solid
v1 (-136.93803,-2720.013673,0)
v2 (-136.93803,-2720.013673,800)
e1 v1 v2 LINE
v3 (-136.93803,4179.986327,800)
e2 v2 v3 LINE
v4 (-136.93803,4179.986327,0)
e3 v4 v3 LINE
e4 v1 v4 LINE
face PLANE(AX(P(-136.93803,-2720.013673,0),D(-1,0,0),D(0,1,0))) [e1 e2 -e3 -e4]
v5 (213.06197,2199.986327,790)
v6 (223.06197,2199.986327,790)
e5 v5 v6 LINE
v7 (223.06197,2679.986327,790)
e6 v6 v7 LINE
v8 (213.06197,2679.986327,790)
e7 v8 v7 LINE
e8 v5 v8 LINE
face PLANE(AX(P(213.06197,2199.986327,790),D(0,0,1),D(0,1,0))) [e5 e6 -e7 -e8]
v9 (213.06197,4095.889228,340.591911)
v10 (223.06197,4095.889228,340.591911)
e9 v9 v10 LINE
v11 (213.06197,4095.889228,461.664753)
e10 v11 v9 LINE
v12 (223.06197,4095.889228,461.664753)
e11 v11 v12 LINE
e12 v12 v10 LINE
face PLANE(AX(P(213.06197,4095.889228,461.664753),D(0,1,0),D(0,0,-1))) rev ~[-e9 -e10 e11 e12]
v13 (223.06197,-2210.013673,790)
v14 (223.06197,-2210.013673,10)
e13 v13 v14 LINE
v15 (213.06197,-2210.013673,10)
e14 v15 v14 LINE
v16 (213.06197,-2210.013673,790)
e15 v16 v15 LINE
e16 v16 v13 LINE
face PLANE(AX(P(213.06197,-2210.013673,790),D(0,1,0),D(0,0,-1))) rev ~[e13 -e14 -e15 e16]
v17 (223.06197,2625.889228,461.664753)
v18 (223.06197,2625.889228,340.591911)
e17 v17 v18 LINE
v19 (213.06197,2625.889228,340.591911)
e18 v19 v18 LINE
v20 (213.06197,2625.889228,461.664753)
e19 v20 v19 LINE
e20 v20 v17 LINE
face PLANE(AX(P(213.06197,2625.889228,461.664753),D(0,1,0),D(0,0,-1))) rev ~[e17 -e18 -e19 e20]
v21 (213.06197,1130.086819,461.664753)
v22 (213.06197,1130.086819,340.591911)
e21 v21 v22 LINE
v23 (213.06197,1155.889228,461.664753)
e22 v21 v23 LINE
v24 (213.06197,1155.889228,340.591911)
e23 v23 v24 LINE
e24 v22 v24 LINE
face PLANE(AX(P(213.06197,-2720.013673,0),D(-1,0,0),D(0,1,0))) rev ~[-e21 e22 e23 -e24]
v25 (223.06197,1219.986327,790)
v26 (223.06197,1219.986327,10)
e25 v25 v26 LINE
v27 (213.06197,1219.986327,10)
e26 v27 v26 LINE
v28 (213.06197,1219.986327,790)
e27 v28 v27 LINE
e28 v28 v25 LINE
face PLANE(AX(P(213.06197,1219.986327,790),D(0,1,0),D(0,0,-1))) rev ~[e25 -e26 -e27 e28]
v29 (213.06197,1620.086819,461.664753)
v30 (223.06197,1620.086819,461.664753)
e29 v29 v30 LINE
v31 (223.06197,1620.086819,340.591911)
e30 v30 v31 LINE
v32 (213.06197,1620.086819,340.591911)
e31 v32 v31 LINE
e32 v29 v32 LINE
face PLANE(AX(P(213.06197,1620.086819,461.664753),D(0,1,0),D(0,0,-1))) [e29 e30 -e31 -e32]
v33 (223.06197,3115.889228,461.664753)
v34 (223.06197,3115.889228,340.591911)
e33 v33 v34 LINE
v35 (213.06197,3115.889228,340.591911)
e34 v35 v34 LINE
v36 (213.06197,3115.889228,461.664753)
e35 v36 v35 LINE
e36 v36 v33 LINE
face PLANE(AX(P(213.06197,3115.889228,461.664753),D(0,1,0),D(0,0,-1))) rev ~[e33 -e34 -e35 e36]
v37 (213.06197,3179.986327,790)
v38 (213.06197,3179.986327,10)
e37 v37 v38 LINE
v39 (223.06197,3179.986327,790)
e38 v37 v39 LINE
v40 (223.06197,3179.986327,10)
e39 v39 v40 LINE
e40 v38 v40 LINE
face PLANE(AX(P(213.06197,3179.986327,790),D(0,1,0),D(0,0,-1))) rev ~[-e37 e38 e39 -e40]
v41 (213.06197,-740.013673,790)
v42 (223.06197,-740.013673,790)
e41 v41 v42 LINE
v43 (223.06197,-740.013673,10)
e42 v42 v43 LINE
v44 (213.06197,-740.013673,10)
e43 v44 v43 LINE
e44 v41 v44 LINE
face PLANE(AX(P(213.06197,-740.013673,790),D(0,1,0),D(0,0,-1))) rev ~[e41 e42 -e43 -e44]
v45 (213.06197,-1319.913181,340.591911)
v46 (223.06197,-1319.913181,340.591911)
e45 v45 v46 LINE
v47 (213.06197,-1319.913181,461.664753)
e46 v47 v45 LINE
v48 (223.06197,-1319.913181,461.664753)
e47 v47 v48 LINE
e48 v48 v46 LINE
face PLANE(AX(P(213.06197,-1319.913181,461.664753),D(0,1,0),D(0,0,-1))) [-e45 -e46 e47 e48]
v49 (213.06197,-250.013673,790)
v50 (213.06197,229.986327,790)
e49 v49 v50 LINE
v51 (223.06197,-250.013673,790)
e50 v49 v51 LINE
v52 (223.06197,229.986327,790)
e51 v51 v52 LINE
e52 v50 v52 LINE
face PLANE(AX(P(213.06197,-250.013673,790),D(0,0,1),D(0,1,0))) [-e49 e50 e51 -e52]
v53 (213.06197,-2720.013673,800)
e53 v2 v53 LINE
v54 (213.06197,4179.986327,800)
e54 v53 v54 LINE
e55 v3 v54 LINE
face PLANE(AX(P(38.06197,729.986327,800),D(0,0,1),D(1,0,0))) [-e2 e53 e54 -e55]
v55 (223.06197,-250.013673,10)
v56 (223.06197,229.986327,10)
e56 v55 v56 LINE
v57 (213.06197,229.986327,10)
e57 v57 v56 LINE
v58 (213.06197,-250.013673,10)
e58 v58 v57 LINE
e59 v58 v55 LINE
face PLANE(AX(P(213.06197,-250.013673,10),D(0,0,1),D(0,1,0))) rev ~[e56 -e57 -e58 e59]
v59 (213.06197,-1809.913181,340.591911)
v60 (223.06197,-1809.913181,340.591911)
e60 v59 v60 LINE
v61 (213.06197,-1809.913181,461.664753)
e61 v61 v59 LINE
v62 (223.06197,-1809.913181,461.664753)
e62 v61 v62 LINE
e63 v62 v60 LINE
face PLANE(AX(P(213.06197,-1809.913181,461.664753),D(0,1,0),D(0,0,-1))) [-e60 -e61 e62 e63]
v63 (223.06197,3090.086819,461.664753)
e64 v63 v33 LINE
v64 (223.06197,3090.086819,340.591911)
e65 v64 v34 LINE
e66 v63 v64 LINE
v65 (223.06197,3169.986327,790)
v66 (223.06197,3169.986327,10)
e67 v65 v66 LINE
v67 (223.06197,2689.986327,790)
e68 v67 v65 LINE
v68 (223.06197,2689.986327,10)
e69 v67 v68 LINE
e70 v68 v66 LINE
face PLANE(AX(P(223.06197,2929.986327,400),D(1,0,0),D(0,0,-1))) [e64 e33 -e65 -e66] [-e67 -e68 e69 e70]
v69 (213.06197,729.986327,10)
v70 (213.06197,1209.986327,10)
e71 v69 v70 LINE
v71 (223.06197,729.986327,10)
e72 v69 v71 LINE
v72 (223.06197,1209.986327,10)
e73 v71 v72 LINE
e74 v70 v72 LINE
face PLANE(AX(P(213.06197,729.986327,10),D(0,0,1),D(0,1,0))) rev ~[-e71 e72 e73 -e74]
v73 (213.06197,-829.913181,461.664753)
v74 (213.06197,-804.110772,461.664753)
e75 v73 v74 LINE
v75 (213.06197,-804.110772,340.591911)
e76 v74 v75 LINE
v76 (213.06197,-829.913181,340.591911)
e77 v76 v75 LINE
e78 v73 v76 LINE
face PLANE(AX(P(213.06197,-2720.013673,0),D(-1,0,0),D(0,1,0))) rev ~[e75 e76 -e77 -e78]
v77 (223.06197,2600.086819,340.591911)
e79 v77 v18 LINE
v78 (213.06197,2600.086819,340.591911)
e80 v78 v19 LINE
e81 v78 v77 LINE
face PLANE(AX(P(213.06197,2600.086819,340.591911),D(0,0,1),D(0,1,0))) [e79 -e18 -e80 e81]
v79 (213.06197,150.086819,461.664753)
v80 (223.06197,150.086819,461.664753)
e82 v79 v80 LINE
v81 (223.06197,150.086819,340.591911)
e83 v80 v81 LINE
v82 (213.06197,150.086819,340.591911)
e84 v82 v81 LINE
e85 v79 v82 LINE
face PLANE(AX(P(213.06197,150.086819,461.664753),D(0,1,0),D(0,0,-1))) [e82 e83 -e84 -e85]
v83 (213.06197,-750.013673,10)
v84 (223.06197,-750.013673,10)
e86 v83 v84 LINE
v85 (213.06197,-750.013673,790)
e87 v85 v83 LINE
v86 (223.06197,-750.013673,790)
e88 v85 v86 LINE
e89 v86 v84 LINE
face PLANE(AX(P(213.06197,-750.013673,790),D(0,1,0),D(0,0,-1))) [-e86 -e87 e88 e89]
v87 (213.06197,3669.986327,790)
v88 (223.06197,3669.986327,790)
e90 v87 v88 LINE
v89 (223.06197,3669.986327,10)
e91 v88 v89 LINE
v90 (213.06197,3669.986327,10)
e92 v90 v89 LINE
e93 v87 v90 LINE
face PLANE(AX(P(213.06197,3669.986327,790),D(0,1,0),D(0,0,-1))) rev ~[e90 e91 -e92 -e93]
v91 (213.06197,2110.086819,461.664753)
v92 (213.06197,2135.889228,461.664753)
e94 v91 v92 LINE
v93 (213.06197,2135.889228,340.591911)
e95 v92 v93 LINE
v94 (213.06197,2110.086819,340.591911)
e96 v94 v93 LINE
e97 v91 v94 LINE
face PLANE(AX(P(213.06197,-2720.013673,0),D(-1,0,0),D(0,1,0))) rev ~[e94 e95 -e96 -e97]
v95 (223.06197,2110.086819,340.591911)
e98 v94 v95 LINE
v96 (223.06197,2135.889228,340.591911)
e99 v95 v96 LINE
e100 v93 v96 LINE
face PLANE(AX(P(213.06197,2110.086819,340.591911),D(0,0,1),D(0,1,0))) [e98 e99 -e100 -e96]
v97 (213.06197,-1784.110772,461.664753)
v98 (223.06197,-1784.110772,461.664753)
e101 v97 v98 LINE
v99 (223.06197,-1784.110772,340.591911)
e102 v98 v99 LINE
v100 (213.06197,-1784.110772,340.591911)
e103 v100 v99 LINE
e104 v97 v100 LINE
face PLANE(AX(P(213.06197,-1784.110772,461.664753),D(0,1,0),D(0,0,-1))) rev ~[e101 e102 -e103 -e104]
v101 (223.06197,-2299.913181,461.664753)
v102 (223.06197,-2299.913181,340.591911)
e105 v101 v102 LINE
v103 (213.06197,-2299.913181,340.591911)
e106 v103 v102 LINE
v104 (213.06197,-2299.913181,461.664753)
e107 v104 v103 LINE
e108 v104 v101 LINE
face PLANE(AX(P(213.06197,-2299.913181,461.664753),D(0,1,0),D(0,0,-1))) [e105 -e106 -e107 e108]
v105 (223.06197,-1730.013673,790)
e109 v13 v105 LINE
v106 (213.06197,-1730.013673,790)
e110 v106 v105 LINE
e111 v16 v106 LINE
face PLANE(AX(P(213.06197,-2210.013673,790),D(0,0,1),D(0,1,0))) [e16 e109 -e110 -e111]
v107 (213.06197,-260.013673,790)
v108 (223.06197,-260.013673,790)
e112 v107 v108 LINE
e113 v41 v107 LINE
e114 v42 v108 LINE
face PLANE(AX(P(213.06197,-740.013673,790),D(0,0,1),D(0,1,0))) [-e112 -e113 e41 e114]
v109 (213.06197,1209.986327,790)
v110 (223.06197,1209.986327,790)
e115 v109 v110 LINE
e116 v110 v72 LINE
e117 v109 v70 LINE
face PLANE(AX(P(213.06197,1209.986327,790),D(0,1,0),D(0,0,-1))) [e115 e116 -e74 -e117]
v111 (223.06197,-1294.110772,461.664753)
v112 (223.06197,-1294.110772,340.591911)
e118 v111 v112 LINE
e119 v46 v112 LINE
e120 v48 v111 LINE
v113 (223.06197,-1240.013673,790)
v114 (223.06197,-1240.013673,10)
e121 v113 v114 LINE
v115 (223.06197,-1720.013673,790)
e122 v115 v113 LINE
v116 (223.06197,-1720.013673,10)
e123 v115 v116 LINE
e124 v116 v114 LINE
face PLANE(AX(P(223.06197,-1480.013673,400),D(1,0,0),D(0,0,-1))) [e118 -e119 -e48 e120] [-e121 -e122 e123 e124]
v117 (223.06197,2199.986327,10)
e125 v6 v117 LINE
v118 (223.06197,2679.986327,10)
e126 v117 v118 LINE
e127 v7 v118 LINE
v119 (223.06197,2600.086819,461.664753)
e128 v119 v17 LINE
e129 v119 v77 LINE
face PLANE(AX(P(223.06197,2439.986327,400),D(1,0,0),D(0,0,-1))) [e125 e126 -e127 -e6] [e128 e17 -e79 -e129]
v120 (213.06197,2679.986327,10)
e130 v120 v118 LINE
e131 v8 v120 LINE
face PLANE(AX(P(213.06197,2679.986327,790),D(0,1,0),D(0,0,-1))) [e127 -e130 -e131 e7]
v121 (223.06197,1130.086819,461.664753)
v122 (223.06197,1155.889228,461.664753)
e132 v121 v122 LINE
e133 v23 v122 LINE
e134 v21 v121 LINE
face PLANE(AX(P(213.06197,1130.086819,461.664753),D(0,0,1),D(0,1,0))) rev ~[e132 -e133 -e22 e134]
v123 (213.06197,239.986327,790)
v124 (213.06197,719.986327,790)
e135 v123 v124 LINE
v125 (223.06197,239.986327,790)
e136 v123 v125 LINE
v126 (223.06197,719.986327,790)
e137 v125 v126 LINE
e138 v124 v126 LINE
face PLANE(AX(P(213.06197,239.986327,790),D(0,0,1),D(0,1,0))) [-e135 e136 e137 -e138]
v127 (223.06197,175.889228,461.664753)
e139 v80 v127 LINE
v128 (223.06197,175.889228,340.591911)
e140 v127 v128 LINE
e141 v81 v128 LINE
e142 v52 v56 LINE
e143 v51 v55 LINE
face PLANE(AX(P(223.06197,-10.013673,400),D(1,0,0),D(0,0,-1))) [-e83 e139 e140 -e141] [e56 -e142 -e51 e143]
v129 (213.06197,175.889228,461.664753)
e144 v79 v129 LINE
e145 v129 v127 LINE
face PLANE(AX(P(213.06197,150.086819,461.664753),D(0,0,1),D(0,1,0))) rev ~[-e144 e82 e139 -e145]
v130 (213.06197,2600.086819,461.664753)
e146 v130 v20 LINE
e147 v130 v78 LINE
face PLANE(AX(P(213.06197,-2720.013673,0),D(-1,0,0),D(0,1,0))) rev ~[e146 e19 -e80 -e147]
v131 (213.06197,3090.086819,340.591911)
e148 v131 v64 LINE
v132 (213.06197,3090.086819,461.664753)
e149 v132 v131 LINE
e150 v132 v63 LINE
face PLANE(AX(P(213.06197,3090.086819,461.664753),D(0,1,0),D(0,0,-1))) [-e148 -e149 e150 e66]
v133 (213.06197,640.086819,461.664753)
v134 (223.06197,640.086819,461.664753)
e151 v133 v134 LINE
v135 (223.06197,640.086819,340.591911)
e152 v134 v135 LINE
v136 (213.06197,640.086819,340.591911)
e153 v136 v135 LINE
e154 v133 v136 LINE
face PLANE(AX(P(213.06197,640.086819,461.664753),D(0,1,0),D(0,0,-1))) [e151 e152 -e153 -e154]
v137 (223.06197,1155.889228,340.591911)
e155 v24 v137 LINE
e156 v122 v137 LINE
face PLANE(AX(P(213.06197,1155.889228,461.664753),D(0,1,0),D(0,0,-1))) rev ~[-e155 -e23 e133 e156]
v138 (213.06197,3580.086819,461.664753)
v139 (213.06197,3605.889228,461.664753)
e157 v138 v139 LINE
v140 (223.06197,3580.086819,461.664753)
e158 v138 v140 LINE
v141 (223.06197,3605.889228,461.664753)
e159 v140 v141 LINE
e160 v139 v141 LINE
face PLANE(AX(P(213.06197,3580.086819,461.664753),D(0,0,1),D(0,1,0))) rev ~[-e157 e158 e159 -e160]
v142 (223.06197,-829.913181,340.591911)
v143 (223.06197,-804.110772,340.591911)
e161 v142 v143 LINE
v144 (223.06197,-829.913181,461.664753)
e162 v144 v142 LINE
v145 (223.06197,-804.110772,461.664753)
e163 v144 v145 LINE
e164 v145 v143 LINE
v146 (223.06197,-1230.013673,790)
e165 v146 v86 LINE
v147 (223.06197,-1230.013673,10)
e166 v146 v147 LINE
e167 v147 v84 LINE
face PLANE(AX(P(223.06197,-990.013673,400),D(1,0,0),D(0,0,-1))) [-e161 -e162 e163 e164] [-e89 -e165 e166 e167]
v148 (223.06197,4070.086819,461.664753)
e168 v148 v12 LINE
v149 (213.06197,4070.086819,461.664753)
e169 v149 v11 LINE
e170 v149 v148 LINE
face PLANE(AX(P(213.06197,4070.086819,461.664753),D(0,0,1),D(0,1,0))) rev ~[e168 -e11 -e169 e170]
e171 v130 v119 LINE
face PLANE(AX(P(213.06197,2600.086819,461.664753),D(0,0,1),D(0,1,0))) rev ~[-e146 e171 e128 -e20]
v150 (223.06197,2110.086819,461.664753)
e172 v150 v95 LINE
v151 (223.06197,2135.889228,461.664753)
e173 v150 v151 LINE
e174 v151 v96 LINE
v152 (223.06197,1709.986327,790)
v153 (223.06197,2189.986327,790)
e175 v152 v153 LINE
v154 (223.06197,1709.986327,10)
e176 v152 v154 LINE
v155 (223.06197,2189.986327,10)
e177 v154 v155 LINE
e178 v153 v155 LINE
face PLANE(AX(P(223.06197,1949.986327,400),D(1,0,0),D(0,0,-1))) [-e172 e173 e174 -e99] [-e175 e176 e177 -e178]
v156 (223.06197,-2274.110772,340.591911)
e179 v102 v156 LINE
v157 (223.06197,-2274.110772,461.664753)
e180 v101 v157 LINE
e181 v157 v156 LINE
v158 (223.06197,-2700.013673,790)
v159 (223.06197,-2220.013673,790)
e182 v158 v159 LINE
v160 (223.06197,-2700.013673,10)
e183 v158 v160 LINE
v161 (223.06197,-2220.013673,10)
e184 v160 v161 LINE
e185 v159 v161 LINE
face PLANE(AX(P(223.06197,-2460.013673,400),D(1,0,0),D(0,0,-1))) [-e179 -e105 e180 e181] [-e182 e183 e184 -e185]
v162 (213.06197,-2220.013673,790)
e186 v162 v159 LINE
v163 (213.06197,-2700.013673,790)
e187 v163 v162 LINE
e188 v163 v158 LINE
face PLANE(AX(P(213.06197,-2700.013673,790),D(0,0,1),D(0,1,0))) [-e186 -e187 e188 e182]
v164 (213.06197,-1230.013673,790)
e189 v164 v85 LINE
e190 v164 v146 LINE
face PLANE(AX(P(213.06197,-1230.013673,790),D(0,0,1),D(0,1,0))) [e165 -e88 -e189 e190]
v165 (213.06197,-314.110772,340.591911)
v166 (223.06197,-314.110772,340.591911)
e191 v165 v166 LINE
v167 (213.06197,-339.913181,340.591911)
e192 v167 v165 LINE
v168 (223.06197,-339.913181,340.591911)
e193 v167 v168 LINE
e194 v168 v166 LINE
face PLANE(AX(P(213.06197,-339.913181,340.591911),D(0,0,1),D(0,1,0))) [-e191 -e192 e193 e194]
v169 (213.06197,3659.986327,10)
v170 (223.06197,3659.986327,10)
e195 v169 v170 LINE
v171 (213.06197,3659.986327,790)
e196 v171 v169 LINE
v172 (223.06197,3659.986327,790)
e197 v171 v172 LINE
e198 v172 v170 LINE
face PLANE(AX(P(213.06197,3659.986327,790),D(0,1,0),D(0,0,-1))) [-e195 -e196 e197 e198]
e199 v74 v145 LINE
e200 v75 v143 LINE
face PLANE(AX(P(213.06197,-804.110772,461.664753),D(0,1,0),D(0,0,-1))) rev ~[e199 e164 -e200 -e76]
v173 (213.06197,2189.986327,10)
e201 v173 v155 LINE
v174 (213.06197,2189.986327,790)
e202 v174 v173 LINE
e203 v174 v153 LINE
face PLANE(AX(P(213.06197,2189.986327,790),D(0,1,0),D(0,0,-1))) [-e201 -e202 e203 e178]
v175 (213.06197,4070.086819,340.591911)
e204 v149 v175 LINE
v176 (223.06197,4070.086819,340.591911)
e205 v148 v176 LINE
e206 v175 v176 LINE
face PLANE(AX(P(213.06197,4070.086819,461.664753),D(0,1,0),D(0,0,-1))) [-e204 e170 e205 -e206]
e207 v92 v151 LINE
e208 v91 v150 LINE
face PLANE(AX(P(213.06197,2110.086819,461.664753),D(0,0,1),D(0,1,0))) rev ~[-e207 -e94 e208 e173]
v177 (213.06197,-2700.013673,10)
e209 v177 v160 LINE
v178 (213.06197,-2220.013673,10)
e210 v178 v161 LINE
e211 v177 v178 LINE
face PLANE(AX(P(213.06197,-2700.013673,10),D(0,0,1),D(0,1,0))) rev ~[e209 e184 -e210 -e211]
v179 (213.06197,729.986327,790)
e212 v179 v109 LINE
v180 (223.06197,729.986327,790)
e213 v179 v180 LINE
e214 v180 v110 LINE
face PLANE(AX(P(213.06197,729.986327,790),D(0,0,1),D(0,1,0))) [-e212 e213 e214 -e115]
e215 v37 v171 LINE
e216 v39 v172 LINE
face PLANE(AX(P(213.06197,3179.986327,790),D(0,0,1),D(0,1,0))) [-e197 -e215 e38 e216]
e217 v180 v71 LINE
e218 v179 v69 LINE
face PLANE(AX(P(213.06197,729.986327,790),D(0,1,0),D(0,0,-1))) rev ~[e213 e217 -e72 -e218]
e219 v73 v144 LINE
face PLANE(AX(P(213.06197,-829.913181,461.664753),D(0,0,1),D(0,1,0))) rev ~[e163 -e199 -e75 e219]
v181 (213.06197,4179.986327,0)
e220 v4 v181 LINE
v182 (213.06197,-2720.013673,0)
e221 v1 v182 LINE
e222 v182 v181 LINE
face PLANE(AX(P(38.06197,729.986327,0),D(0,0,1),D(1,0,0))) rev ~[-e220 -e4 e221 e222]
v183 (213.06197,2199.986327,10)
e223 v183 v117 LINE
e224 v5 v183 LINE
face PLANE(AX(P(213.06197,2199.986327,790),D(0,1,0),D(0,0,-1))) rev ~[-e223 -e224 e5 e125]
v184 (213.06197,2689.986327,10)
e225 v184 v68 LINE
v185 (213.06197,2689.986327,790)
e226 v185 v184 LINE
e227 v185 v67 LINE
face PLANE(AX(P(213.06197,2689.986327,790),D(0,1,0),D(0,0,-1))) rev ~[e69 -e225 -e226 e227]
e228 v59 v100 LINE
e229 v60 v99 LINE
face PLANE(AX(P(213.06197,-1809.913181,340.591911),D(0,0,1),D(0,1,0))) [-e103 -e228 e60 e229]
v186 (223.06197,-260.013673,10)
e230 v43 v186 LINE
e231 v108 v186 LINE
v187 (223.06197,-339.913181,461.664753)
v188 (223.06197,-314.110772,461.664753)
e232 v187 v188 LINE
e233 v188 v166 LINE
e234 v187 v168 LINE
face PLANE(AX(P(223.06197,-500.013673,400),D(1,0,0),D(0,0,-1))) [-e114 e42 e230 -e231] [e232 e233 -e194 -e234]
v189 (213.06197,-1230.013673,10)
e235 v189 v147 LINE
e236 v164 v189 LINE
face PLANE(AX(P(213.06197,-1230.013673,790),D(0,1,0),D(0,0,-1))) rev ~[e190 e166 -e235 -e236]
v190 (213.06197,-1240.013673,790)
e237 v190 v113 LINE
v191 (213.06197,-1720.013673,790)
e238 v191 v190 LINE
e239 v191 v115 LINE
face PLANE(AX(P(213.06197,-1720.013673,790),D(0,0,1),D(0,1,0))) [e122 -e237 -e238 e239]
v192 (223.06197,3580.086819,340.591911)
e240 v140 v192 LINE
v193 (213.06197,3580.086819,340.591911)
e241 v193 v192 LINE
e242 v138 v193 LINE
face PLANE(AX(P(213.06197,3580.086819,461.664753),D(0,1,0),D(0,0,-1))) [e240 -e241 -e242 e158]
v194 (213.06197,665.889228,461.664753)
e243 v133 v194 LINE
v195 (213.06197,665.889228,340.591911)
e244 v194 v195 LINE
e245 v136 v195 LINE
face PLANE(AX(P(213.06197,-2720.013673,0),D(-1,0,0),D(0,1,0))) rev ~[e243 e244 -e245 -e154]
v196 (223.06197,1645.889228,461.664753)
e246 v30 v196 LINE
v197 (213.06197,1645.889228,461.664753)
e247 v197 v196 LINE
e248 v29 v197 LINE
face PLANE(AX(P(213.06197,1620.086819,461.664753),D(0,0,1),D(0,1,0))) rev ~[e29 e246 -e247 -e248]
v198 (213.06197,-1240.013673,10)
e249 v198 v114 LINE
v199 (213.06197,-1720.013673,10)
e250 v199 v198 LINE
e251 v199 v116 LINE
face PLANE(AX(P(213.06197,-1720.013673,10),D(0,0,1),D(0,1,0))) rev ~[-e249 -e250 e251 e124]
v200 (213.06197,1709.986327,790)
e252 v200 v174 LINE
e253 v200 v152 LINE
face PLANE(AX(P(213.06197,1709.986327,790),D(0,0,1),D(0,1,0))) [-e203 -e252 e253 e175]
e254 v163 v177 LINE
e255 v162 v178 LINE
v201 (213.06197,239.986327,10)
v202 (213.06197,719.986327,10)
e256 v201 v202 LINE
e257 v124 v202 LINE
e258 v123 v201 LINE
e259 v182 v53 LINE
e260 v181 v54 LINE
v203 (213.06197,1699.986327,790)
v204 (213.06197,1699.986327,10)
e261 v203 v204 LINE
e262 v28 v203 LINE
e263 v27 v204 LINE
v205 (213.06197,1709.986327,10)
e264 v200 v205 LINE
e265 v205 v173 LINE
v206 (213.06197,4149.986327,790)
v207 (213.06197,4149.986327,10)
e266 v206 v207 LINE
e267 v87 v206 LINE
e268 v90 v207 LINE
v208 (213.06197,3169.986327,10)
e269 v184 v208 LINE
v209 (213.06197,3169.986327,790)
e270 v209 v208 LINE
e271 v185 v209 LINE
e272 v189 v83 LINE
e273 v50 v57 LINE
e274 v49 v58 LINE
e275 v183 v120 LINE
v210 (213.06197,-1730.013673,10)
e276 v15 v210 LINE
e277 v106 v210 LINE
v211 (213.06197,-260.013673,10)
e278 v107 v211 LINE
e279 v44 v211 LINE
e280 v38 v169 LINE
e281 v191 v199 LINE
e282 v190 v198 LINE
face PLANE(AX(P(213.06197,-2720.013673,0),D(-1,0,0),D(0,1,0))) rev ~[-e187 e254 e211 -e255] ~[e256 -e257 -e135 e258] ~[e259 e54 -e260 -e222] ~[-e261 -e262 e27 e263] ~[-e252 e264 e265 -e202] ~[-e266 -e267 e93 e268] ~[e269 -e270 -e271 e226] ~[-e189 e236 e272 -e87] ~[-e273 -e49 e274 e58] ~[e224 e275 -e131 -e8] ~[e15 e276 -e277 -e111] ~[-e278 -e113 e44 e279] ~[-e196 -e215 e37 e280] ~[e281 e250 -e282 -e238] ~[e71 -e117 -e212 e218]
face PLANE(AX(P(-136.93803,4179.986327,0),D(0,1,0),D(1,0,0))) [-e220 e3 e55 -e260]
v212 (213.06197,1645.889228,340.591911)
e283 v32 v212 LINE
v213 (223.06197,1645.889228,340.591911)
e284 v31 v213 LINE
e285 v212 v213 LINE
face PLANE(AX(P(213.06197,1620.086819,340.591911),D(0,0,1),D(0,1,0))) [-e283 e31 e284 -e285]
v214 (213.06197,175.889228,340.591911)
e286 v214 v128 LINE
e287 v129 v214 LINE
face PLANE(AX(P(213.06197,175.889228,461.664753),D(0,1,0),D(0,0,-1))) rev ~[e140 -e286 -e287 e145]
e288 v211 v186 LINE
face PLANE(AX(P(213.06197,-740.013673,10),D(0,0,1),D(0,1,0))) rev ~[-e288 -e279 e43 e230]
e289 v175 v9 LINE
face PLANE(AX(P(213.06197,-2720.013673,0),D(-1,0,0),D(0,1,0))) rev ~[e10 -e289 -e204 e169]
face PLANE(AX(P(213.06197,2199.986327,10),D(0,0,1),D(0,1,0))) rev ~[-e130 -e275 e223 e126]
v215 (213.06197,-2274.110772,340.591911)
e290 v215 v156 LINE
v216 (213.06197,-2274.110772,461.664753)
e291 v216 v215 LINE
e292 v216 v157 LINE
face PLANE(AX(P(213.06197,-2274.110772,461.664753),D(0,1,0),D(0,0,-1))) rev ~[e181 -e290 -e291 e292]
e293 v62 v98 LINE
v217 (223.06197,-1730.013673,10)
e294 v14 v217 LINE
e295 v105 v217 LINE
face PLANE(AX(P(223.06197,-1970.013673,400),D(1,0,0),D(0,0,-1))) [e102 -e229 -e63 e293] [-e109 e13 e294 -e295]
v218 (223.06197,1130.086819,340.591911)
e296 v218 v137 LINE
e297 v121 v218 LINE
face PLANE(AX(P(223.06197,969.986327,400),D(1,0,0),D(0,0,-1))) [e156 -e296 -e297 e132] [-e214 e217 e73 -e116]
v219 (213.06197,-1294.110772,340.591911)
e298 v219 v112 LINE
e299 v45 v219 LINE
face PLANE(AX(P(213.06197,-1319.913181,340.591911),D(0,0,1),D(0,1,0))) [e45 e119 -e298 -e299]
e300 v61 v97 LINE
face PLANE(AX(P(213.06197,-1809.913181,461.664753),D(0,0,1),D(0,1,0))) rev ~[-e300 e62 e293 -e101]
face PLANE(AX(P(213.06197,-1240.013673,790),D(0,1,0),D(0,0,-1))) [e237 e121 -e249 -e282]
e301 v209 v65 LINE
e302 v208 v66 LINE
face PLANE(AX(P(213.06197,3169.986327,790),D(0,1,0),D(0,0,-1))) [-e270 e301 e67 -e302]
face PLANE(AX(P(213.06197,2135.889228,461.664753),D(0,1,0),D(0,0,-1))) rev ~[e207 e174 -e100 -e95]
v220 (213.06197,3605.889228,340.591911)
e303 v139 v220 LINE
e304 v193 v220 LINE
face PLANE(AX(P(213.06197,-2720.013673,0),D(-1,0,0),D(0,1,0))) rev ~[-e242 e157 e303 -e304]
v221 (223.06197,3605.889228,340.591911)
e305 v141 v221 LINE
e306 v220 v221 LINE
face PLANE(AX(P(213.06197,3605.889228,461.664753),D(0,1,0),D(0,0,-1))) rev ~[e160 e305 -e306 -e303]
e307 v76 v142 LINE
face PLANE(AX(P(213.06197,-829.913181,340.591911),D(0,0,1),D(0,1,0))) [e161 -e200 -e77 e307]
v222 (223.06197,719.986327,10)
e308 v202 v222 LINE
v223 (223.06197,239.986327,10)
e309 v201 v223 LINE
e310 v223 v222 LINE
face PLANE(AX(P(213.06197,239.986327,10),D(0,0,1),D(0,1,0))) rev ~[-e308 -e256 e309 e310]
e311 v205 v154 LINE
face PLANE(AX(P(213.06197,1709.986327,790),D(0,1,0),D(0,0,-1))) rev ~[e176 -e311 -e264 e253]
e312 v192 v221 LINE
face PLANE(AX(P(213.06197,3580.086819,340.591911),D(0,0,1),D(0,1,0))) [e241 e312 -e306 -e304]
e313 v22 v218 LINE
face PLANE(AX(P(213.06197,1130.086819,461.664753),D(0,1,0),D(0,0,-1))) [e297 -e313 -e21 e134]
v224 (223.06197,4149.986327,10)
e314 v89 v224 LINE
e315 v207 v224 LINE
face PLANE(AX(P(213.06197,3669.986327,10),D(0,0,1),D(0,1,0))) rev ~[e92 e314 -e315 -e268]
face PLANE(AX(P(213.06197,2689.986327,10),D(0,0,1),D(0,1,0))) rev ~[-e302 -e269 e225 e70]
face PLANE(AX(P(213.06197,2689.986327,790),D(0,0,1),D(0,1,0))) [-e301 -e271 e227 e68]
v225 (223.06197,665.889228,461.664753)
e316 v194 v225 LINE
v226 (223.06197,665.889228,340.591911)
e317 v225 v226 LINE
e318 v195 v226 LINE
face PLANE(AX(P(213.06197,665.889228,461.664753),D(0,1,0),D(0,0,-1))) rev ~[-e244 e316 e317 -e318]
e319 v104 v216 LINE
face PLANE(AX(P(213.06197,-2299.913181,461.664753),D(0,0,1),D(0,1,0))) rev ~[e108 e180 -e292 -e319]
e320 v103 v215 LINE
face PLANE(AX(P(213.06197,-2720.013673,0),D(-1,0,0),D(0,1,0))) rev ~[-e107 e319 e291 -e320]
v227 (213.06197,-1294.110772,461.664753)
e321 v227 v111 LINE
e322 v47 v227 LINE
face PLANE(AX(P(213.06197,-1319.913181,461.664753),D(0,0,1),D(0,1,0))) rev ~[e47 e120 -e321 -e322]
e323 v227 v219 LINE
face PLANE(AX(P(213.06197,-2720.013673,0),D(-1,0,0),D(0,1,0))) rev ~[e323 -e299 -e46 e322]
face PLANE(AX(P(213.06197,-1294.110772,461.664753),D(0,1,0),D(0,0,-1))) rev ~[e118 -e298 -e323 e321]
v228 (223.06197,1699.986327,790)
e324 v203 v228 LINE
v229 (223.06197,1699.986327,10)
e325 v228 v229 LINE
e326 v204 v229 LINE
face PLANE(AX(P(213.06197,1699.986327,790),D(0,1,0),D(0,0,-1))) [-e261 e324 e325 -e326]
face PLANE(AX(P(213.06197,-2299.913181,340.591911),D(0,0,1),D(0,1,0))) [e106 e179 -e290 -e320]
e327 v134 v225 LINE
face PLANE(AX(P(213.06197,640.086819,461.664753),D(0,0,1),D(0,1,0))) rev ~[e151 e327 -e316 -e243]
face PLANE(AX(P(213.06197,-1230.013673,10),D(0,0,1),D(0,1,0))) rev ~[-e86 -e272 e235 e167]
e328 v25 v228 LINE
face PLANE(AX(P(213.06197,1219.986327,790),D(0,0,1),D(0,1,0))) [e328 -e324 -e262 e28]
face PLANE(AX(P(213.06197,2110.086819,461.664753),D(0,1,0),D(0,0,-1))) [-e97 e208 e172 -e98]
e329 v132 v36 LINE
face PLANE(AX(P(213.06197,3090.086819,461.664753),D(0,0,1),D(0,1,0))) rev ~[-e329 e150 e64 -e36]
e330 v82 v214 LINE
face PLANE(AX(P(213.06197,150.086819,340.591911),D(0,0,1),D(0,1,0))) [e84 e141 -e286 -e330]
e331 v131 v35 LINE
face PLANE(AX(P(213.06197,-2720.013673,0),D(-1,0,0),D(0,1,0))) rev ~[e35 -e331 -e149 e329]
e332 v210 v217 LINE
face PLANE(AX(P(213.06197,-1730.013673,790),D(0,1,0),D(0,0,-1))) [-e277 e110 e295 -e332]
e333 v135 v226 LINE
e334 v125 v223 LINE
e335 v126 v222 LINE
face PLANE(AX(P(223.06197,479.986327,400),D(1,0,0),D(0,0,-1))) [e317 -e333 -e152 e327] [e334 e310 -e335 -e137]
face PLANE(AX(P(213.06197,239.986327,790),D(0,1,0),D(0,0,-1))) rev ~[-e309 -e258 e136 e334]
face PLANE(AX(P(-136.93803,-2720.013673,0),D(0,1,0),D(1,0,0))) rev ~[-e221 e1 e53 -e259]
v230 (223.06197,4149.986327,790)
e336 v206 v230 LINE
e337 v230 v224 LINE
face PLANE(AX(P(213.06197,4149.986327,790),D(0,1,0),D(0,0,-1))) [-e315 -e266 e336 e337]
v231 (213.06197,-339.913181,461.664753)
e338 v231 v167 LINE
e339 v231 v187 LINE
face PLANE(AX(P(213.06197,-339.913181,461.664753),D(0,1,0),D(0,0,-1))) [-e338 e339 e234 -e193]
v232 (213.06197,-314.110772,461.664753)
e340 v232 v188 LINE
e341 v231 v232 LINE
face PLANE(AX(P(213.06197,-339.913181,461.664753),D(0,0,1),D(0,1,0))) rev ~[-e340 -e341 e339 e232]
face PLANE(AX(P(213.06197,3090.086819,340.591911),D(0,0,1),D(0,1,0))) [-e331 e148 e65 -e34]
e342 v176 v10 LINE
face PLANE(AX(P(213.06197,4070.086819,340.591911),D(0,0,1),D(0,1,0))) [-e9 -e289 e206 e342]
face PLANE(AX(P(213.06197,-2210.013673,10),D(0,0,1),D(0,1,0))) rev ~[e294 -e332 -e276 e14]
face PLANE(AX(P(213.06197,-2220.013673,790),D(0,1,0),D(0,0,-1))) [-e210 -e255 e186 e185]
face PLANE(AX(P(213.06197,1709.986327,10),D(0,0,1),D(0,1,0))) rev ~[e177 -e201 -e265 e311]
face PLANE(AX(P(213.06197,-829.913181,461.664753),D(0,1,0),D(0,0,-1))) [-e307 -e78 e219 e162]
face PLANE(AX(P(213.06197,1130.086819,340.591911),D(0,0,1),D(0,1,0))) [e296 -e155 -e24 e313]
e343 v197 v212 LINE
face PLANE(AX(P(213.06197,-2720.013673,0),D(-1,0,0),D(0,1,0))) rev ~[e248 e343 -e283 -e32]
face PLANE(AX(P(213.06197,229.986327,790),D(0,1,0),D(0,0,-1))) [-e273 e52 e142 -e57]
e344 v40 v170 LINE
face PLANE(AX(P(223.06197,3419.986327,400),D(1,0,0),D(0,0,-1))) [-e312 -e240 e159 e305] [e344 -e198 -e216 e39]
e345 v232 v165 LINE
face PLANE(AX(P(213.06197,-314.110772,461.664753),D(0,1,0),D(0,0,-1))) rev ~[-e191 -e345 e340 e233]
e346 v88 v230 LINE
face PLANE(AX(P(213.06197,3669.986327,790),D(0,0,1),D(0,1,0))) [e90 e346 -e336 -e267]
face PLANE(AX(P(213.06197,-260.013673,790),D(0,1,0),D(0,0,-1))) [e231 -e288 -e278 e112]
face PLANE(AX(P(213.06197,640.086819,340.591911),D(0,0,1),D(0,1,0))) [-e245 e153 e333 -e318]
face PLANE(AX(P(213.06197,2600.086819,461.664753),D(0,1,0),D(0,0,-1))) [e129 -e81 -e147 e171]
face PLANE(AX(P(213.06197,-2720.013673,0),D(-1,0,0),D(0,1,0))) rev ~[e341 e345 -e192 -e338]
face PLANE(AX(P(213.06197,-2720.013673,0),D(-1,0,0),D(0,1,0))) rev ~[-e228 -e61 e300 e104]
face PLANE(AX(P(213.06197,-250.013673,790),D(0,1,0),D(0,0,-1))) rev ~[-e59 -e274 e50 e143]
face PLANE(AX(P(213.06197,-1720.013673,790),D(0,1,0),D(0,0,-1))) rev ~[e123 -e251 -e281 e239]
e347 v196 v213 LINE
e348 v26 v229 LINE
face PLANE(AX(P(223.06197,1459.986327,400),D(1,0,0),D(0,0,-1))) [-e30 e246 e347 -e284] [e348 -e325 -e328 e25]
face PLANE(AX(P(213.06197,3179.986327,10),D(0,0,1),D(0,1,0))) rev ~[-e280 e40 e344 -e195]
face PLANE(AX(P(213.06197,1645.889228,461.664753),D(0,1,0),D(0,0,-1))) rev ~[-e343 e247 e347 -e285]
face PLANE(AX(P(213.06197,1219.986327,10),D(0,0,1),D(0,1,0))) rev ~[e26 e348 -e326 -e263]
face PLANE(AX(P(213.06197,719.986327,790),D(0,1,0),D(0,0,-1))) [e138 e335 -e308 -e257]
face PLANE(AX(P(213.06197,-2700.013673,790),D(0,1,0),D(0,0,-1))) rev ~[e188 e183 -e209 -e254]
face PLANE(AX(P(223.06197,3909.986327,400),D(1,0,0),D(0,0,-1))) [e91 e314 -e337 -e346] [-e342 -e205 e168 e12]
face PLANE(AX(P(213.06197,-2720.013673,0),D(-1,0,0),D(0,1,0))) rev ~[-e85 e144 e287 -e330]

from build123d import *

# Parameters (mm, degrees)
SKETCH1_W           = 350
SKETCH1_H           = 6900
BOSS_EXTRUDE1_DEPTH = 800
SKETCH3_W           = 780
SKETCH3_H           = 480
SKETCH3_W_2         = 121.072841775
SKETCH3_H_2         = 25.802408902
BOSS_EXTRUDE3_DEPTH = 10


with BuildPart() as part:
    # Sketch1 → Boss-Extrude1 (new body)
    with BuildSketch(Plane.XY):
        with Locations((38.061970043, 729.986327315)):
            Rectangle(SKETCH1_W, SKETCH1_H)
    extrude(amount=BOSS_EXTRUDE1_DEPTH)

    # Sketch3 → Boss-Extrude3 (add)
    with BuildSketch(Plane(origin=(213.061970043, 0, 0), x_dir=(0, 0, -1), z_dir=(1, 0, 0))):
        with Locations((-400, -2460.013672685)):
            Rectangle(SKETCH3_W, SKETCH3_H)
        with Locations((-401.128332344, -2287.011976611)):
            Rectangle(SKETCH3_W_2, SKETCH3_H_2, mode=Mode.SUBTRACT)
        with Locations((-400, -1480.013672685)):
            Rectangle(SKETCH3_W, SKETCH3_H)
        with Locations((-401.128332344, -1307.011976611)):
            Rectangle(SKETCH3_W_2, SKETCH3_H_2, mode=Mode.SUBTRACT)
        with Locations((-400, -1970.013672685)):
            Rectangle(SKETCH3_W, SKETCH3_H)
        with Locations((-401.128332344, -1797.011976611)):
            Rectangle(SKETCH3_W_2, SKETCH3_H_2, mode=Mode.SUBTRACT)
        with Locations((-400, -990.013672685)):
            Rectangle(SKETCH3_W, SKETCH3_H)
        with Locations((-401.128332344, -817.011976611)):
            Rectangle(SKETCH3_W_2, SKETCH3_H_2, mode=Mode.SUBTRACT)
        with Locations((-400, -500.013672685)):
            Rectangle(SKETCH3_W, SKETCH3_H)
        with Locations((-401.128332344, -327.011976611)):
            Rectangle(SKETCH3_W_2, SKETCH3_H_2, mode=Mode.SUBTRACT)
        with Locations((-400, -10.013672685)):
            Rectangle(SKETCH3_W, SKETCH3_H)
        with Locations((-401.128332344, 162.988023389)):
            Rectangle(SKETCH3_W_2, SKETCH3_H_2, mode=Mode.SUBTRACT)
        with Locations((-400, 479.986327315)):
            Rectangle(SKETCH3_W, SKETCH3_H)
        with Locations((-401.128332344, 652.988023389)):
            Rectangle(SKETCH3_W_2, SKETCH3_H_2, mode=Mode.SUBTRACT)
        with Locations((-400, 969.986327315)):
            Rectangle(SKETCH3_W, SKETCH3_H)
        with Locations((-401.128332344, 1142.988023389)):
            Rectangle(SKETCH3_W_2, SKETCH3_H_2, mode=Mode.SUBTRACT)
        with Locations((-400, 1459.986327315)):
            Rectangle(SKETCH3_W, SKETCH3_H)
        with Locations((-401.128332344, 1632.988023389)):
            Rectangle(SKETCH3_W_2, SKETCH3_H_2, mode=Mode.SUBTRACT)
        with Locations((-400, 1949.986327315)):
            Rectangle(SKETCH3_W, SKETCH3_H)
        with Locations((-401.128332344, 2122.988023389)):
            Rectangle(SKETCH3_W_2, SKETCH3_H_2, mode=Mode.SUBTRACT)
        with Locations((-400, 2439.986327315)):
            Rectangle(SKETCH3_W, SKETCH3_H)
        with Locations((-401.128332344, 2612.988023389)):
            Rectangle(SKETCH3_W_2, SKETCH3_H_2, mode=Mode.SUBTRACT)
        with Locations((-400, 2929.986327315)):
            Rectangle(SKETCH3_W, SKETCH3_H)
        with Locations((-401.128332344, 3102.988023389)):
            Rectangle(SKETCH3_W_2, SKETCH3_H_2, mode=Mode.SUBTRACT)
        with Locations((-400, 3419.986327315)):
            Rectangle(SKETCH3_W, SKETCH3_H)
        with Locations((-401.128332344, 3592.988023389)):
            Rectangle(SKETCH3_W_2, SKETCH3_H_2, mode=Mode.SUBTRACT)
        with Locations((-400, 3909.986327315)):
            Rectangle(SKETCH3_W, SKETCH3_H)
        with Locations((-401.128332344, 4082.988023389)):
            Rectangle(SKETCH3_W_2, SKETCH3_H_2, mode=Mode.SUBTRACT)
    extrude(amount=BOSS_EXTRUDE3_DEPTH)


solid = part.part
